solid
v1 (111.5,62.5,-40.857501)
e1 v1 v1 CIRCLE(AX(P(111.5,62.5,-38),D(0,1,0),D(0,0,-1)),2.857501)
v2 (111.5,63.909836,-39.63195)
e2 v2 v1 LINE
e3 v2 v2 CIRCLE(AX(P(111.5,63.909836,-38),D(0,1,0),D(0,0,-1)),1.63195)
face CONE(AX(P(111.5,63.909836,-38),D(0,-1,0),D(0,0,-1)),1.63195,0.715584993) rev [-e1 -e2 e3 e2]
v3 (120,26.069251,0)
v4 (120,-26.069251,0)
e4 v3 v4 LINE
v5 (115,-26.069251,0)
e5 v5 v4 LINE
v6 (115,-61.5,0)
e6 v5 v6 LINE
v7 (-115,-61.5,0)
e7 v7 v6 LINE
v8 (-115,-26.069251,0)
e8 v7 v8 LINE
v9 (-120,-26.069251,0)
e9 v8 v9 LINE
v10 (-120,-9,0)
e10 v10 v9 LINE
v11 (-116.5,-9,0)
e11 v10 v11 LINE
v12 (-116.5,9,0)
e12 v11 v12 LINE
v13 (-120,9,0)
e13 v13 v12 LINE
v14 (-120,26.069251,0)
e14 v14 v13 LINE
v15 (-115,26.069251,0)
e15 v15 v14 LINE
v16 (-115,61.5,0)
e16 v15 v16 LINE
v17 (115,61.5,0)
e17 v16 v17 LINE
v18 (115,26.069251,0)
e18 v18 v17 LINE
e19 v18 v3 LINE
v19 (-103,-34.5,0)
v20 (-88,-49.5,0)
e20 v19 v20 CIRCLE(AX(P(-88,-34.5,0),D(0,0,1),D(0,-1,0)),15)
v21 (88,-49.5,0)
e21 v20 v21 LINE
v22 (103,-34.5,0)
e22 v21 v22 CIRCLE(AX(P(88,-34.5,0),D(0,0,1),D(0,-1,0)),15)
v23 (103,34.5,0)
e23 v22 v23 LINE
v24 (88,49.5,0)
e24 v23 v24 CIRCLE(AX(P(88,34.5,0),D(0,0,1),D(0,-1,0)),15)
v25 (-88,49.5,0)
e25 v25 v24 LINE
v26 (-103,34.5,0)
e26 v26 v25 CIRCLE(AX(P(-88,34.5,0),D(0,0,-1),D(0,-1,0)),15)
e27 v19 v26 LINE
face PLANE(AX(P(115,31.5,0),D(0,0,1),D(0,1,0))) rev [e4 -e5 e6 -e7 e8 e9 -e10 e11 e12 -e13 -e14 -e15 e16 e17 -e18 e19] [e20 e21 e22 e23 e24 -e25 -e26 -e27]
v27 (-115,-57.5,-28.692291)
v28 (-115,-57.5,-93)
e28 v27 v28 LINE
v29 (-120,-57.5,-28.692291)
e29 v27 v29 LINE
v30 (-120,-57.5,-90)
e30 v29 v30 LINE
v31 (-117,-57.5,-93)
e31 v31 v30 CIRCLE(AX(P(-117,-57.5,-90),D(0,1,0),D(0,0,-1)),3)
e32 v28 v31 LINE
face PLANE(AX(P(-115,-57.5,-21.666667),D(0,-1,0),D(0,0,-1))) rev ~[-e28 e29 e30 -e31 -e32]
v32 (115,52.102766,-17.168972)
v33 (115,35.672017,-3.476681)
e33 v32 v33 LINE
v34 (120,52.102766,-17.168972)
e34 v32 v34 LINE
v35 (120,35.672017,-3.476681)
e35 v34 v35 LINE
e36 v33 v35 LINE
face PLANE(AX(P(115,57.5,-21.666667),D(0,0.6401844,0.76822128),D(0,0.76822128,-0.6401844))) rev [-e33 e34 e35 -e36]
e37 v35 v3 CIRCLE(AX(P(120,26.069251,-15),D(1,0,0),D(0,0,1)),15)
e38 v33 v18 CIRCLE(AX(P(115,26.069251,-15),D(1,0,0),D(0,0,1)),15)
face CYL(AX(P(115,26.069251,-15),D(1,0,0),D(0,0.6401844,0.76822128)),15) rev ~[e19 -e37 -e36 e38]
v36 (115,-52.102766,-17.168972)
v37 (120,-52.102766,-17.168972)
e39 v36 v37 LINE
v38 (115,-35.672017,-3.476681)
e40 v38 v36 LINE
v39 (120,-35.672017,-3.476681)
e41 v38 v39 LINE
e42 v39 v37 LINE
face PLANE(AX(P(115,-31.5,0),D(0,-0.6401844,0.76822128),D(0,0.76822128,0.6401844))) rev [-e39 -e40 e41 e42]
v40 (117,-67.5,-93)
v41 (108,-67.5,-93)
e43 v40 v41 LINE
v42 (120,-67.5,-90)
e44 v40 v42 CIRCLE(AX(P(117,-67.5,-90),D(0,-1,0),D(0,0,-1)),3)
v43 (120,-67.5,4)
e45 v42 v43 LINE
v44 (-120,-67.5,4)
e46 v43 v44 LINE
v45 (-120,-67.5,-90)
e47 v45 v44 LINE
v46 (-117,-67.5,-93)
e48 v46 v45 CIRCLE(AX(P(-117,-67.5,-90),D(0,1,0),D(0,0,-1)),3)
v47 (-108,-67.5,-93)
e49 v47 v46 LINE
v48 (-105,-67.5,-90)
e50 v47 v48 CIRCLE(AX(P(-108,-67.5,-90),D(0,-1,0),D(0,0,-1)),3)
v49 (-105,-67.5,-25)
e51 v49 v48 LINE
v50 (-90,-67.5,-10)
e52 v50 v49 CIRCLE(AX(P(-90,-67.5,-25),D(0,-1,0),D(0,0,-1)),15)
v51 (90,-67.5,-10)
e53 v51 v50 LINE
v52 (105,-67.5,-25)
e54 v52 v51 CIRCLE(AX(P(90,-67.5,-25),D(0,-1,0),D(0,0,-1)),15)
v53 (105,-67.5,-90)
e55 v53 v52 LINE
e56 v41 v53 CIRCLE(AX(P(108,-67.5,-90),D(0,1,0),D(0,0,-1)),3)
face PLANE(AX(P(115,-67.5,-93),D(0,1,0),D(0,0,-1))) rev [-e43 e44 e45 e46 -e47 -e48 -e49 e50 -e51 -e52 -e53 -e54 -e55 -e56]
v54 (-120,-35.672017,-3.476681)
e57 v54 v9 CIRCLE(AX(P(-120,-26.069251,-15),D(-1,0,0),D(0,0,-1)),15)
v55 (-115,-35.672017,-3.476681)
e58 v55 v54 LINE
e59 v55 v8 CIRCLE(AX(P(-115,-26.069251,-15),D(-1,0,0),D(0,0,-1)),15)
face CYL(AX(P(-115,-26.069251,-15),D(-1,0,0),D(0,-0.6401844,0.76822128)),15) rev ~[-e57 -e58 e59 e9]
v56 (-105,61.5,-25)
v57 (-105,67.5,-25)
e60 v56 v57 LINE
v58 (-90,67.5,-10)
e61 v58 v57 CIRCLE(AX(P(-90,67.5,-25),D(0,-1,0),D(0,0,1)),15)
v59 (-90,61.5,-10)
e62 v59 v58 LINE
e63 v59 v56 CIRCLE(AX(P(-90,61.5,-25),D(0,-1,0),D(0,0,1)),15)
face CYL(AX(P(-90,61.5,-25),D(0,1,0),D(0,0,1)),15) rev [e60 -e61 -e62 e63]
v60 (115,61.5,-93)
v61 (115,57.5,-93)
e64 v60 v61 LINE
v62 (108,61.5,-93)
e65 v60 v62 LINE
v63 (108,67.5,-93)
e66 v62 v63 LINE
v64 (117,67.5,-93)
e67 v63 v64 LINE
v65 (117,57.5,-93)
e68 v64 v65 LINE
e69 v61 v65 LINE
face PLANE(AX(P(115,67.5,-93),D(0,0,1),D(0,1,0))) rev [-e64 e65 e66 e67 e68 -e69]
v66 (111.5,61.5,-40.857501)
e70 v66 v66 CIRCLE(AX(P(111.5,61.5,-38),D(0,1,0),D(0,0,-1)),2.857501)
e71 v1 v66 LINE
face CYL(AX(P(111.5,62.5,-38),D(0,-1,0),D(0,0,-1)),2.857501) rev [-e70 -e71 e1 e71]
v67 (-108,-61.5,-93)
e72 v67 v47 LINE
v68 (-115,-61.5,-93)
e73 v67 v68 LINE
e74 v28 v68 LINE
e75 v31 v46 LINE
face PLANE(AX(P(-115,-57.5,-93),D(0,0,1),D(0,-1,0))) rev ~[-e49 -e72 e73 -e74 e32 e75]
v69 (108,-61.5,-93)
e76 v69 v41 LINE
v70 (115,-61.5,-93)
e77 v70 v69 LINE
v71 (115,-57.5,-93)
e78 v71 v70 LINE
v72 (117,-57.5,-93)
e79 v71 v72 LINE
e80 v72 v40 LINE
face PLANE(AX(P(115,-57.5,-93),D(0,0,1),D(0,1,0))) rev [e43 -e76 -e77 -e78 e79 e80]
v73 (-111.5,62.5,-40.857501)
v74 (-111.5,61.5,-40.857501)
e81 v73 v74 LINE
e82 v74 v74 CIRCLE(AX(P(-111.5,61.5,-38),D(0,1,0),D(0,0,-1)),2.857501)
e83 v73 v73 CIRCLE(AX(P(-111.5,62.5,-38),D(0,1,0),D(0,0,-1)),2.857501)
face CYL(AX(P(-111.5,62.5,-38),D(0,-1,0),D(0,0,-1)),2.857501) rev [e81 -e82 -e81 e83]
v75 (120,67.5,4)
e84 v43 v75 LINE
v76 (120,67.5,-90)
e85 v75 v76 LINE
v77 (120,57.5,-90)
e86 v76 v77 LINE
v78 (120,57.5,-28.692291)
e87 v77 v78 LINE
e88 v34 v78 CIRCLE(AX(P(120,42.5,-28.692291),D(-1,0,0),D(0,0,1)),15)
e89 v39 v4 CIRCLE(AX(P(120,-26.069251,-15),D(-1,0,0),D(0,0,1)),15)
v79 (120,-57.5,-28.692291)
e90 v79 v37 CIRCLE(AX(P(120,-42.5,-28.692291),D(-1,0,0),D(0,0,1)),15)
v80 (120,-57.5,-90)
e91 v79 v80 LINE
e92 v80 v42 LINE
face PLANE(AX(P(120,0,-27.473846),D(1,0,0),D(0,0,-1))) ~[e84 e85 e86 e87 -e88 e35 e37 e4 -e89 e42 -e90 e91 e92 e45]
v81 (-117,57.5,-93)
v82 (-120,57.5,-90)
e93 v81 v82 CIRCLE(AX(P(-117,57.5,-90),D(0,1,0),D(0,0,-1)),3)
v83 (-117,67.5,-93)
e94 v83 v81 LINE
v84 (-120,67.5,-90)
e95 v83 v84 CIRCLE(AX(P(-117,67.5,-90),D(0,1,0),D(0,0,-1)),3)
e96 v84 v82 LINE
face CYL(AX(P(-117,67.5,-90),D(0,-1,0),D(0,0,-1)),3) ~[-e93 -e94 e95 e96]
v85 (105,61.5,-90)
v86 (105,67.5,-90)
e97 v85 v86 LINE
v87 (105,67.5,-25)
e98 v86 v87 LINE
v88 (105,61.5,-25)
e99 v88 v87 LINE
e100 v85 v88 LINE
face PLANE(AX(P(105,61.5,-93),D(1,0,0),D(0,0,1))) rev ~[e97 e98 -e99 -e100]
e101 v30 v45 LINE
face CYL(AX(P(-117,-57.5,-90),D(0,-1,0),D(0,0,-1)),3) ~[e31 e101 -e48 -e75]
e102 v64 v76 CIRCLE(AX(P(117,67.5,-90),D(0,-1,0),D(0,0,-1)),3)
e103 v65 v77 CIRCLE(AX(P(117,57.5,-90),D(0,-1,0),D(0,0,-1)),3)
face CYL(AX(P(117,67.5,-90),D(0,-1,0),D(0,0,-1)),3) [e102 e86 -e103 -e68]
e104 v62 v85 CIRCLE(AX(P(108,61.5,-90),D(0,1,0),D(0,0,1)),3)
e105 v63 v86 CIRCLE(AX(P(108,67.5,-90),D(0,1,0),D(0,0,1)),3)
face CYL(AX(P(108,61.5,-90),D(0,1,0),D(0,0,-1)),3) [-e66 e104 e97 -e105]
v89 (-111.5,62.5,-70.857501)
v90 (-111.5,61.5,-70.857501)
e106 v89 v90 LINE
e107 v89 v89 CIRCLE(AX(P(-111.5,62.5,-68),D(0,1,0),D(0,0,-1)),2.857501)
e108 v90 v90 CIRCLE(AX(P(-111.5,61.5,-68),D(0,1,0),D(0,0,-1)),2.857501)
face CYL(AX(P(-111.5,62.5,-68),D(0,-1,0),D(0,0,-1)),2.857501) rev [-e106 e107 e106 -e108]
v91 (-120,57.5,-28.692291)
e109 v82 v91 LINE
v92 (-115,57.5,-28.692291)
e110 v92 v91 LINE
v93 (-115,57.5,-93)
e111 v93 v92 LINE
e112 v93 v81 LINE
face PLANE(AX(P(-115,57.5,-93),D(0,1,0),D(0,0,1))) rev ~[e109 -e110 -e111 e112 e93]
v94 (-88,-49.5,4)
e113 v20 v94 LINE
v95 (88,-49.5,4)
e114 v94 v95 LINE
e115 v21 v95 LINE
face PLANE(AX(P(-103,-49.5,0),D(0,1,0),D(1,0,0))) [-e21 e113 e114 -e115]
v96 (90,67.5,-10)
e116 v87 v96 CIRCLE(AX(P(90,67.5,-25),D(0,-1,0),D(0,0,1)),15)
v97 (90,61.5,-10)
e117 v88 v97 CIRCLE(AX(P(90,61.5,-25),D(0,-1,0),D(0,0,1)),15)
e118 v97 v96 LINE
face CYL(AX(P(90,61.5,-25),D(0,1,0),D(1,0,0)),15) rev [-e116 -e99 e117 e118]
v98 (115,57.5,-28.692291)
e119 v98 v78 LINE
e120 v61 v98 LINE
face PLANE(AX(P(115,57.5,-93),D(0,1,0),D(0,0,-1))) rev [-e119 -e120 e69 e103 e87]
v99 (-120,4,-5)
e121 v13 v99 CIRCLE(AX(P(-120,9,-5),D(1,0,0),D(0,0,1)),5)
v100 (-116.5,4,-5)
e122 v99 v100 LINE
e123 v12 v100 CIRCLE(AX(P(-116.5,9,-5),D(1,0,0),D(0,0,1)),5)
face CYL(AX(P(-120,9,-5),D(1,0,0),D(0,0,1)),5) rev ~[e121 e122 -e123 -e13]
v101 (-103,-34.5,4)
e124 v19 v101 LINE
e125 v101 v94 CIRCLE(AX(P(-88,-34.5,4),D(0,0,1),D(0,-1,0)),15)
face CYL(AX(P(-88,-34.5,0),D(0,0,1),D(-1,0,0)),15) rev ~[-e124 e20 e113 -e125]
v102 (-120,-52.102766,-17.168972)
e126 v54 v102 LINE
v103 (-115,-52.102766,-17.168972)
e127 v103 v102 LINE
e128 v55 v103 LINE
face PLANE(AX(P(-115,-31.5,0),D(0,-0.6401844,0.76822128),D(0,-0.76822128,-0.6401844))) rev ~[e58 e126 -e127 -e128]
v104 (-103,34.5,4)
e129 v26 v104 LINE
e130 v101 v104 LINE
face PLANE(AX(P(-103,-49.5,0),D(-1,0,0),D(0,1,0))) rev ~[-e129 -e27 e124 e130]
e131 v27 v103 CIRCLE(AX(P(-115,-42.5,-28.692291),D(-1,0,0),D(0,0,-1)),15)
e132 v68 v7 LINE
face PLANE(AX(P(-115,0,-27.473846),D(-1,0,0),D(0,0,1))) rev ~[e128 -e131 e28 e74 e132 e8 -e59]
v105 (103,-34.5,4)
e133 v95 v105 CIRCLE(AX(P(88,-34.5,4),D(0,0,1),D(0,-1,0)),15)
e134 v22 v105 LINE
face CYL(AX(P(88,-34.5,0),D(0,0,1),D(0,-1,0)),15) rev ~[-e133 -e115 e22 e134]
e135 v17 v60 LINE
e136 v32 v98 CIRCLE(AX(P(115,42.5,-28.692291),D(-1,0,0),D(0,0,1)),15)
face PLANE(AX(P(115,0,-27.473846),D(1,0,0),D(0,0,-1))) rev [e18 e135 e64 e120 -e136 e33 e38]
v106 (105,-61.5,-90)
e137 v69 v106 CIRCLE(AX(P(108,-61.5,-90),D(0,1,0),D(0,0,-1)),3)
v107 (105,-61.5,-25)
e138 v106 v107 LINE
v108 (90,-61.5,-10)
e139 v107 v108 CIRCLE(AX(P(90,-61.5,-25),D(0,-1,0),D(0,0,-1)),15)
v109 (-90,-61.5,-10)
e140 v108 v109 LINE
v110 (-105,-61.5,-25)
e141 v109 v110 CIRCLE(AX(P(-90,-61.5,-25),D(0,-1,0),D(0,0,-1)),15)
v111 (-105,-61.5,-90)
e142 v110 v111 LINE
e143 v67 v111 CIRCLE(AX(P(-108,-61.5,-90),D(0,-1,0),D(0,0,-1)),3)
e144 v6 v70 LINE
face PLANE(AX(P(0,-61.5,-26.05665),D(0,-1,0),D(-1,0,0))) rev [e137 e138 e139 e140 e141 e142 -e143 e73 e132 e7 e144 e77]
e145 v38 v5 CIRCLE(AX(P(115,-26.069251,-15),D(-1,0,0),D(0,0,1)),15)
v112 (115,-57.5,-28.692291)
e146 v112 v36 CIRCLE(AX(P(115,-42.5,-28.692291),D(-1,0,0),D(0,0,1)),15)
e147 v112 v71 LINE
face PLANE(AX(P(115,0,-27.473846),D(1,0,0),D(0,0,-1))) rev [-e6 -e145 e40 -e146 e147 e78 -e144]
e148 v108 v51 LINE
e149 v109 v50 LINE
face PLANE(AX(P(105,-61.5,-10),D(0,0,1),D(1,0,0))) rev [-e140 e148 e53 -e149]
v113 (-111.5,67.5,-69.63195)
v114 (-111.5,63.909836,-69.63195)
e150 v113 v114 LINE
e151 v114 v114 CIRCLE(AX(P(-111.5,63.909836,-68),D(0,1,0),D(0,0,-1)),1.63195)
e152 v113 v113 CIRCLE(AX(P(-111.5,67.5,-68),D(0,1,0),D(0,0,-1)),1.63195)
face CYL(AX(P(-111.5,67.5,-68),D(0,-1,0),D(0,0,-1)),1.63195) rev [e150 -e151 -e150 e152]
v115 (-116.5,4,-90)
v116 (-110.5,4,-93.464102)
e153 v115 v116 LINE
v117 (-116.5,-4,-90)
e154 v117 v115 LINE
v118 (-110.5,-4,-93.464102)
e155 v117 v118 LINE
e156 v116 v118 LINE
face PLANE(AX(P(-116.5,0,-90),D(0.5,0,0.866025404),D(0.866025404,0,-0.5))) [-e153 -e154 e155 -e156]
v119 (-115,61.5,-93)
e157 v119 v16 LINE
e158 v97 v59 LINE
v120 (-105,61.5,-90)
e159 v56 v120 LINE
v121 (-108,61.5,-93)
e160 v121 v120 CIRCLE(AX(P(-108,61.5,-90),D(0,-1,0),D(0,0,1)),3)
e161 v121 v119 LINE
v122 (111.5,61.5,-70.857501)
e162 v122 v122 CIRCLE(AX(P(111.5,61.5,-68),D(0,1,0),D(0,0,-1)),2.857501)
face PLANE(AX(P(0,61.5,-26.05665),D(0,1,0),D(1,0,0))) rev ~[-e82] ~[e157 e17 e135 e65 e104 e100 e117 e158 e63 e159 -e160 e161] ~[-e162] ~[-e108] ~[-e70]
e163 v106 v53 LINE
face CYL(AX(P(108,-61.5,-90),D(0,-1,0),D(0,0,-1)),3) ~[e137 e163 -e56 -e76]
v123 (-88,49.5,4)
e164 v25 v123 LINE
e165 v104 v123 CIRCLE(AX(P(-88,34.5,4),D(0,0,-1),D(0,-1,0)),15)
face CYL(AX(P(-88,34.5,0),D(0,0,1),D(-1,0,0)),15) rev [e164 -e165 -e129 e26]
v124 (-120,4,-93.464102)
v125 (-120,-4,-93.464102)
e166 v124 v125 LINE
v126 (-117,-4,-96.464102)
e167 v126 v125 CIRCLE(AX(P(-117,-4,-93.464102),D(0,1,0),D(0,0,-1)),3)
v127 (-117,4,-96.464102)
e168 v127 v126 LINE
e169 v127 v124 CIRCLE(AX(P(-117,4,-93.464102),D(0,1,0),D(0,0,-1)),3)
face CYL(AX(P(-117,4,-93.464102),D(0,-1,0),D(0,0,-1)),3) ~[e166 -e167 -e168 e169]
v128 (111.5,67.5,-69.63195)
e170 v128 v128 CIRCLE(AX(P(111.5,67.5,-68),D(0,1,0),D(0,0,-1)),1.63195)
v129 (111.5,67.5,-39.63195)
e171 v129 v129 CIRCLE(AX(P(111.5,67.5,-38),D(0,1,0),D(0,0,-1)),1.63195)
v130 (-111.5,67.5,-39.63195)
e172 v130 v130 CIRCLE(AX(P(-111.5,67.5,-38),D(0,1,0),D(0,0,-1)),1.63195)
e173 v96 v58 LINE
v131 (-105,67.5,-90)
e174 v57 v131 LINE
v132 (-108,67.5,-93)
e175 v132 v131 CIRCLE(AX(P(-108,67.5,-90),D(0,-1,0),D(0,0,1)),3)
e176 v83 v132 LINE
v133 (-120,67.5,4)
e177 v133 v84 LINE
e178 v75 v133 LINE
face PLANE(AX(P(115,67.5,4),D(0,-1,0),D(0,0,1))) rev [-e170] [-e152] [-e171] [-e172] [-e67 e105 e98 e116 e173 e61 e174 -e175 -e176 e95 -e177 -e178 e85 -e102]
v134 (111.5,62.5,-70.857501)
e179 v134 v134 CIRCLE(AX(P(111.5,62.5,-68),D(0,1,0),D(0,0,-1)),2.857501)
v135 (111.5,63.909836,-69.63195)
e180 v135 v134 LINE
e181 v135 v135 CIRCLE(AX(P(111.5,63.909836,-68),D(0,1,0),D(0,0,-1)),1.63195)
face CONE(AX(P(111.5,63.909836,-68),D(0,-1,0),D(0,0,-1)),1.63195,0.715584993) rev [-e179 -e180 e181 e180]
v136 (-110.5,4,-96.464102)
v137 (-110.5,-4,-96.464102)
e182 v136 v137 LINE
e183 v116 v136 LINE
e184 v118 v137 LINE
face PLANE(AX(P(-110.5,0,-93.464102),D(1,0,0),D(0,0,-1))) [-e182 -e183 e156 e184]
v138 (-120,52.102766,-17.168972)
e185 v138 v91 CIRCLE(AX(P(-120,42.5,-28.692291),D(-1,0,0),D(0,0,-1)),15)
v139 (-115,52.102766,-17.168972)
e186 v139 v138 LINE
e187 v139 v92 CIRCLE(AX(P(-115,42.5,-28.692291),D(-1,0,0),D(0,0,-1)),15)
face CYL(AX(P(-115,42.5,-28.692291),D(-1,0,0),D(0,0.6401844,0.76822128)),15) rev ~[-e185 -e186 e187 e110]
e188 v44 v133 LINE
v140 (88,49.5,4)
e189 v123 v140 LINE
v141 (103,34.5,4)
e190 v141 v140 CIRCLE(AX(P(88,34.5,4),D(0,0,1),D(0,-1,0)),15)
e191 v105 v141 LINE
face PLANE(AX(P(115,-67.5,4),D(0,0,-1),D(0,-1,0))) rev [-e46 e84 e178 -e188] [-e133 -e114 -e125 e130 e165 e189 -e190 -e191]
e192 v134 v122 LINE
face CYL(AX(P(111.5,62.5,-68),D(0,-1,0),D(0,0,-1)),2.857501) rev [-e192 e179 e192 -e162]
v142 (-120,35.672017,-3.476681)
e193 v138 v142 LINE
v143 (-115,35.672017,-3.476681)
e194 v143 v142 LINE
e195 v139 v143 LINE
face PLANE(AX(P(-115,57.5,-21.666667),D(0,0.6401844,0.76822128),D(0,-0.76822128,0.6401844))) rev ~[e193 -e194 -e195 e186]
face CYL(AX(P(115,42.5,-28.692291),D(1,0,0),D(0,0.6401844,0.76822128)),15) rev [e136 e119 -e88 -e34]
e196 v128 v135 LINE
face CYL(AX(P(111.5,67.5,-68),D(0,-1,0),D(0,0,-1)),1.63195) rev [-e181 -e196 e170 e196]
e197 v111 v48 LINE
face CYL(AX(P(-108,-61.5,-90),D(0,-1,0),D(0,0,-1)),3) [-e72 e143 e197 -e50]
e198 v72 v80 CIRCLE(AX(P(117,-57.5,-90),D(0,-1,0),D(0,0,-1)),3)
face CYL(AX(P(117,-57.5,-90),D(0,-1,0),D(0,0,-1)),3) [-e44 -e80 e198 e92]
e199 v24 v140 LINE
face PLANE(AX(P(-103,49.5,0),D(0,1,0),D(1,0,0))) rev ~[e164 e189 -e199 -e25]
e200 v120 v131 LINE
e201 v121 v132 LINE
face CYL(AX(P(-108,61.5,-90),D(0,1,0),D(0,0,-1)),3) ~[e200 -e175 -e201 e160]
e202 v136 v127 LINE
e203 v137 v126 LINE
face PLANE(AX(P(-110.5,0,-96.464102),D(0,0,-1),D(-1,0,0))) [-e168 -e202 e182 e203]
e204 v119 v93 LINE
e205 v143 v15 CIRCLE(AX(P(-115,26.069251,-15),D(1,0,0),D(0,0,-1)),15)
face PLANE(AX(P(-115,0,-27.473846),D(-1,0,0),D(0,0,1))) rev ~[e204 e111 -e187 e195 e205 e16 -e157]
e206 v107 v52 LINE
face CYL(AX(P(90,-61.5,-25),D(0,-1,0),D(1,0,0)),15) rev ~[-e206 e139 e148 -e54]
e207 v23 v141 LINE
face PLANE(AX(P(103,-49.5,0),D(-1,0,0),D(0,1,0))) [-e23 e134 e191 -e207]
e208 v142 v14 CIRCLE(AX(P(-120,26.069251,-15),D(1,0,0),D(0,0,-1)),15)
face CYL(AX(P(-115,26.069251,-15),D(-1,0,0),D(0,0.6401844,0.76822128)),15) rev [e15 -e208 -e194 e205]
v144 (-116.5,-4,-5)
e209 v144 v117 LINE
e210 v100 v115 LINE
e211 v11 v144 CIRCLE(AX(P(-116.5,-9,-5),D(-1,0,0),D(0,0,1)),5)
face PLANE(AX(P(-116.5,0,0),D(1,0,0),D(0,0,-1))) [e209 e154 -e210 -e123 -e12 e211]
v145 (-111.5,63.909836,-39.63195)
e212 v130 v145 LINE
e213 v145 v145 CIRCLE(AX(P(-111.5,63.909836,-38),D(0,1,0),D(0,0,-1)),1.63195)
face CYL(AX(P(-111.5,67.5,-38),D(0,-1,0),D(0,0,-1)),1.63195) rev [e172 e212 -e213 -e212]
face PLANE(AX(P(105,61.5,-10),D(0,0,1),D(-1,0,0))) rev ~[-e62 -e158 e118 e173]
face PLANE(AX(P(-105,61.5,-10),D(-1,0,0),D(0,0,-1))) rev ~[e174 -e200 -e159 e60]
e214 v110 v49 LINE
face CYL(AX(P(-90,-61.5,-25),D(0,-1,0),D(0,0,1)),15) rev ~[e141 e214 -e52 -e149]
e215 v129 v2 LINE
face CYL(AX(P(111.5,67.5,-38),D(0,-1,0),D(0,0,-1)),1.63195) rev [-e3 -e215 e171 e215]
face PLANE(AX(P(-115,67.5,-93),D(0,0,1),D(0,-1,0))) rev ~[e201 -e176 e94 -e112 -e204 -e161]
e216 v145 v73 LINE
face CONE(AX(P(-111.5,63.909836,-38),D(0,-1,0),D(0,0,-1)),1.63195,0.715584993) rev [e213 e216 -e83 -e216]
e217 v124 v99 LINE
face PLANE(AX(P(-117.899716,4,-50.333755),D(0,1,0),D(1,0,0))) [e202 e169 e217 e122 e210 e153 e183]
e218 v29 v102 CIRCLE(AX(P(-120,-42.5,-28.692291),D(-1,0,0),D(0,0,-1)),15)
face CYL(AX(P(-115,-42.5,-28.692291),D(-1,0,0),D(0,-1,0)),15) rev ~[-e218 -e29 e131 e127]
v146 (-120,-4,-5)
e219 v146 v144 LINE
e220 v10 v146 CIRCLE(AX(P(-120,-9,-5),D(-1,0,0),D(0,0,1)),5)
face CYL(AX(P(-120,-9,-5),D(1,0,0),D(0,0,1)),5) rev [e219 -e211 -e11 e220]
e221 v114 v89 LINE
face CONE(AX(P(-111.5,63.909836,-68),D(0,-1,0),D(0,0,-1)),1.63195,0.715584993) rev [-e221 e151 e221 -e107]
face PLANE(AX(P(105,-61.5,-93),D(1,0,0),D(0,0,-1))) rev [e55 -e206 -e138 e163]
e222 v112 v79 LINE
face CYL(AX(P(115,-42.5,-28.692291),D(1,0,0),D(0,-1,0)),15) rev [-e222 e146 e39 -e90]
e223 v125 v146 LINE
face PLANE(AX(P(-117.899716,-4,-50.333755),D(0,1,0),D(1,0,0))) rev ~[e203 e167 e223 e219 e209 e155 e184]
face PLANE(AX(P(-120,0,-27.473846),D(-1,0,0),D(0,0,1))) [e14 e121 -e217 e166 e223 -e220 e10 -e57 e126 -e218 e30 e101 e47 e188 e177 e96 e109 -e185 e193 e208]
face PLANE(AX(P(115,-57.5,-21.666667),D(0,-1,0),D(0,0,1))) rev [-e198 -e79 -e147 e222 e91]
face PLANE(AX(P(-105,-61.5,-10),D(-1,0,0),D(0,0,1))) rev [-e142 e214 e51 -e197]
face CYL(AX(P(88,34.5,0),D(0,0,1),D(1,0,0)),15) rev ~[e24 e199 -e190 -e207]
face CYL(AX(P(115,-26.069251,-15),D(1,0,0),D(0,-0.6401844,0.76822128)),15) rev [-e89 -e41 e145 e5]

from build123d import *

# Parameters (mm, degrees)
SKETCH1_W                                     = 230
SKETCH1_H                                     = 123
SKETCH1_W_2                                   = 206
SKETCH1_H_2                                   = 99
BOSS_EXTRUDE1_DEPTH                           = 4
SKETCH2_W                                     = 230
SKETCH2_H                                     = 4
BOSS_EXTRUDE2_DEPTH                           = 6
BOSS_EXTRUDE3_DEPTH                           = 5
FILLET1_R                                     = 15
BOSS_EXTRUDE4_DEPTH                           = 4
FILLET2_R                                     = 5
FILLET3_R                                     = 3
CSK_FOR_4_FLAT_HEAD_MACHINE_SCREW1_AT_2_COUNT = 2
CSK_FOR_4_FLAT_HEAD_MACHINE_SCREW1_AT_2_PITCH = 30
CSK_FOR_4_FLAT_HEAD_MACHINE_SCREW1_AT_3_COUNT = 2
CSK_FOR_4_FLAT_HEAD_MACHINE_SCREW1_AT_3_PITCH = 225.008888713
CSK_FOR_4_FLAT_HEAD_MACHINE_SCREW1_AT_4_COUNT = 2
CSK_FOR_4_FLAT_HEAD_MACHINE_SCREW1_AT_4_PITCH = 223


with BuildPart() as part:
    # Sketch1 → Boss-Extrude1 (new body)
    with BuildSketch(Plane.XY):
        Rectangle(SKETCH1_W, SKETCH1_H)
        Rectangle(SKETCH1_W_2, SKETCH1_H_2, mode=Mode.SUBTRACT)
    extrude(amount=BOSS_EXTRUDE1_DEPTH)

    # Sketch2 → Boss-Extrude2 (add)
    with BuildSketch(Plane(origin=(0, 61.5, 0), x_dir=(1, 0, 0), z_dir=(0, 1, 0))):
        Polygon((-115, 10), (-115, 0), (115, 0), (115, 10), (115, 93), (105, 93), (105, 10), (-105, 10), (-105, 93), (-115, 93), align=None)
        with Locations((0, -2)):
            Rectangle(SKETCH2_W, SKETCH2_H)
    boss_extrude2 = extrude(amount=BOSS_EXTRUDE2_DEPTH)

    # Mirror1: Boss-Extrude2 across plane
    add(boss_extrude2.mirror(Plane.ZX))

    # Sketch3 → Boss-Extrude3 (add)
    with BuildSketch(Plane.ZY.offset(115)):
        Polygon((-93, 61.5), (0, 61.5), (0, -61.5), (-93, -61.5), (-93, -67.5), (4, -67.5), (4, 67.5), (-93, 67.5), align=None)
        Polygon((0, 61.5), (-25, 61.5), (-21.666666667, 57.5), (0, 31.5), align=None)
        Polygon((0, -61.5), (0, -31.5), (-21.666666667, -57.5), (-25, -61.5), align=None)
        Polygon((-21.666666667, 57.5), (-25, 61.5), (-93, 61.5), (-93, 57.5), align=None)
        Polygon((-25, -61.5), (-21.666666667, -57.5), (-93, -57.5), (-93, -61.5), align=None)
    boss_extrude3 = extrude(amount=BOSS_EXTRUDE3_DEPTH)

    # Mirror2: Boss-Extrude3 across plane
    add(boss_extrude3.mirror(Plane(origin=(0, 0, 0), x_dir=(0, 0, 1), z_dir=(1, 0, 0))))

    # Fillet1
    fillet1_edges = [part.edges().sort_by_distance(p)[0] for p in [
        (117.5, 57.5, -21.666666667),
        (117.5, -57.5, -21.666666667),
        (117.5, -31.5, 0),
        (117.5, 31.5, 0),
        (-103, -49.5, 2),
        (103, -49.5, 2),
        (103, 49.5, 2),
        (-103, 49.5, 2),
        (105, 64.5, -10),
        (-105, 64.5, -10),
        (-105, -64.5, -10),
        (105, -64.5, -10),
        (-117.5, 57.5, -21.666666667),
        (-117.5, 31.5, 0),
        (-117.5, -31.5, 0),
        (-117.5, -57.5, -21.666666667),
    ]]
    fillet(fillet1_edges, radius=FILLET1_R)

    # Sketch4 → Boss-Extrude4 (add, symmetric)
    with BuildSketch(Plane(origin=(0, 0, 0), x_dir=(1, 0, 0), z_dir=(0, 1, 0))):
        Polygon((-120, 96.464101615), (-120, 0), (-116.5, 0), (-116.5, 90), (-110.5, 93.464101615), (-110.5, 96.464101615), align=None)
    extrude(amount=BOSS_EXTRUDE4_DEPTH, both=True)

    # Fillet2
    fillet2_edges = [part.edges().sort_by_distance(p)[0] for p in [
        (-118.25, 4, 0),
        (-118.25, -4, 0),
    ]]
    fillet(fillet2_edges, radius=FILLET2_R)

    # Fillet3
    fillet3_edges = [part.edges().sort_by_distance(p)[0] for p in [
        (120, 62.5, -93),
        (120, -62.5, -93),
        (105, 64.5, -93),
        (-120, 0, -96.464101615),
        (-105, 64.5, -93),
        (-105, -64.5, -93),
        (105, -64.5, -93),
        (-120, -62.5, -93),
        (-120, 62.5, -93),
    ]]
    fillet(fillet3_edges, radius=FILLET3_R)

    # Sketch6 → CSK for #4 Flat Head Machine Screw1 (revolve, cut)
    with BuildSketch(Plane(origin=(111.5, 61.5, -68), x_dir=(0, 0, -1), z_dir=(1, 0, 0))):
        Polygon((0, 0), (0, 6), (1.63195, 6), (1.63195, 2.409835609), (2.857501397, 1), (2.857501397, 0), align=None)
    csk_for_4_flat_head_machine_screw1 = revolve(axis=Axis((111.5, 55.15, -68), (0, 1, 0)), mode=Mode.SUBTRACT)

    # CSK for #4 Flat Head Machine Screw1 at 2: CSK for #4 Flat Head Machine Screw1 ×2
    with Locations(*[(0, 0, i * CSK_FOR_4_FLAT_HEAD_MACHINE_SCREW1_AT_2_PITCH) for i in range(1, CSK_FOR_4_FLAT_HEAD_MACHINE_SCREW1_AT_2_COUNT)]):
        add(csk_for_4_flat_head_machine_screw1, mode=Mode.SUBTRACT)

    # CSK for #4 Flat Head Machine Screw1 at 3: CSK for #4 Flat Head Machine Screw1 ×2
    with Locations(*[Vector(-0.9910719584243963, 0, 0.13332806615574816) * (i * CSK_FOR_4_FLAT_HEAD_MACHINE_SCREW1_AT_3_PITCH) for i in range(1, CSK_FOR_4_FLAT_HEAD_MACHINE_SCREW1_AT_3_COUNT)]):
        add(csk_for_4_flat_head_machine_screw1, mode=Mode.SUBTRACT)

    # CSK for #4 Flat Head Machine Screw1 at 4: CSK for #4 Flat Head Machine Screw1 ×2
    with Locations(*[(-i * CSK_FOR_4_FLAT_HEAD_MACHINE_SCREW1_AT_4_PITCH, 0, 0) for i in range(1, CSK_FOR_4_FLAT_HEAD_MACHINE_SCREW1_AT_4_COUNT)]):
        add(csk_for_4_flat_head_machine_screw1, mode=Mode.SUBTRACT)


solid = part.part
